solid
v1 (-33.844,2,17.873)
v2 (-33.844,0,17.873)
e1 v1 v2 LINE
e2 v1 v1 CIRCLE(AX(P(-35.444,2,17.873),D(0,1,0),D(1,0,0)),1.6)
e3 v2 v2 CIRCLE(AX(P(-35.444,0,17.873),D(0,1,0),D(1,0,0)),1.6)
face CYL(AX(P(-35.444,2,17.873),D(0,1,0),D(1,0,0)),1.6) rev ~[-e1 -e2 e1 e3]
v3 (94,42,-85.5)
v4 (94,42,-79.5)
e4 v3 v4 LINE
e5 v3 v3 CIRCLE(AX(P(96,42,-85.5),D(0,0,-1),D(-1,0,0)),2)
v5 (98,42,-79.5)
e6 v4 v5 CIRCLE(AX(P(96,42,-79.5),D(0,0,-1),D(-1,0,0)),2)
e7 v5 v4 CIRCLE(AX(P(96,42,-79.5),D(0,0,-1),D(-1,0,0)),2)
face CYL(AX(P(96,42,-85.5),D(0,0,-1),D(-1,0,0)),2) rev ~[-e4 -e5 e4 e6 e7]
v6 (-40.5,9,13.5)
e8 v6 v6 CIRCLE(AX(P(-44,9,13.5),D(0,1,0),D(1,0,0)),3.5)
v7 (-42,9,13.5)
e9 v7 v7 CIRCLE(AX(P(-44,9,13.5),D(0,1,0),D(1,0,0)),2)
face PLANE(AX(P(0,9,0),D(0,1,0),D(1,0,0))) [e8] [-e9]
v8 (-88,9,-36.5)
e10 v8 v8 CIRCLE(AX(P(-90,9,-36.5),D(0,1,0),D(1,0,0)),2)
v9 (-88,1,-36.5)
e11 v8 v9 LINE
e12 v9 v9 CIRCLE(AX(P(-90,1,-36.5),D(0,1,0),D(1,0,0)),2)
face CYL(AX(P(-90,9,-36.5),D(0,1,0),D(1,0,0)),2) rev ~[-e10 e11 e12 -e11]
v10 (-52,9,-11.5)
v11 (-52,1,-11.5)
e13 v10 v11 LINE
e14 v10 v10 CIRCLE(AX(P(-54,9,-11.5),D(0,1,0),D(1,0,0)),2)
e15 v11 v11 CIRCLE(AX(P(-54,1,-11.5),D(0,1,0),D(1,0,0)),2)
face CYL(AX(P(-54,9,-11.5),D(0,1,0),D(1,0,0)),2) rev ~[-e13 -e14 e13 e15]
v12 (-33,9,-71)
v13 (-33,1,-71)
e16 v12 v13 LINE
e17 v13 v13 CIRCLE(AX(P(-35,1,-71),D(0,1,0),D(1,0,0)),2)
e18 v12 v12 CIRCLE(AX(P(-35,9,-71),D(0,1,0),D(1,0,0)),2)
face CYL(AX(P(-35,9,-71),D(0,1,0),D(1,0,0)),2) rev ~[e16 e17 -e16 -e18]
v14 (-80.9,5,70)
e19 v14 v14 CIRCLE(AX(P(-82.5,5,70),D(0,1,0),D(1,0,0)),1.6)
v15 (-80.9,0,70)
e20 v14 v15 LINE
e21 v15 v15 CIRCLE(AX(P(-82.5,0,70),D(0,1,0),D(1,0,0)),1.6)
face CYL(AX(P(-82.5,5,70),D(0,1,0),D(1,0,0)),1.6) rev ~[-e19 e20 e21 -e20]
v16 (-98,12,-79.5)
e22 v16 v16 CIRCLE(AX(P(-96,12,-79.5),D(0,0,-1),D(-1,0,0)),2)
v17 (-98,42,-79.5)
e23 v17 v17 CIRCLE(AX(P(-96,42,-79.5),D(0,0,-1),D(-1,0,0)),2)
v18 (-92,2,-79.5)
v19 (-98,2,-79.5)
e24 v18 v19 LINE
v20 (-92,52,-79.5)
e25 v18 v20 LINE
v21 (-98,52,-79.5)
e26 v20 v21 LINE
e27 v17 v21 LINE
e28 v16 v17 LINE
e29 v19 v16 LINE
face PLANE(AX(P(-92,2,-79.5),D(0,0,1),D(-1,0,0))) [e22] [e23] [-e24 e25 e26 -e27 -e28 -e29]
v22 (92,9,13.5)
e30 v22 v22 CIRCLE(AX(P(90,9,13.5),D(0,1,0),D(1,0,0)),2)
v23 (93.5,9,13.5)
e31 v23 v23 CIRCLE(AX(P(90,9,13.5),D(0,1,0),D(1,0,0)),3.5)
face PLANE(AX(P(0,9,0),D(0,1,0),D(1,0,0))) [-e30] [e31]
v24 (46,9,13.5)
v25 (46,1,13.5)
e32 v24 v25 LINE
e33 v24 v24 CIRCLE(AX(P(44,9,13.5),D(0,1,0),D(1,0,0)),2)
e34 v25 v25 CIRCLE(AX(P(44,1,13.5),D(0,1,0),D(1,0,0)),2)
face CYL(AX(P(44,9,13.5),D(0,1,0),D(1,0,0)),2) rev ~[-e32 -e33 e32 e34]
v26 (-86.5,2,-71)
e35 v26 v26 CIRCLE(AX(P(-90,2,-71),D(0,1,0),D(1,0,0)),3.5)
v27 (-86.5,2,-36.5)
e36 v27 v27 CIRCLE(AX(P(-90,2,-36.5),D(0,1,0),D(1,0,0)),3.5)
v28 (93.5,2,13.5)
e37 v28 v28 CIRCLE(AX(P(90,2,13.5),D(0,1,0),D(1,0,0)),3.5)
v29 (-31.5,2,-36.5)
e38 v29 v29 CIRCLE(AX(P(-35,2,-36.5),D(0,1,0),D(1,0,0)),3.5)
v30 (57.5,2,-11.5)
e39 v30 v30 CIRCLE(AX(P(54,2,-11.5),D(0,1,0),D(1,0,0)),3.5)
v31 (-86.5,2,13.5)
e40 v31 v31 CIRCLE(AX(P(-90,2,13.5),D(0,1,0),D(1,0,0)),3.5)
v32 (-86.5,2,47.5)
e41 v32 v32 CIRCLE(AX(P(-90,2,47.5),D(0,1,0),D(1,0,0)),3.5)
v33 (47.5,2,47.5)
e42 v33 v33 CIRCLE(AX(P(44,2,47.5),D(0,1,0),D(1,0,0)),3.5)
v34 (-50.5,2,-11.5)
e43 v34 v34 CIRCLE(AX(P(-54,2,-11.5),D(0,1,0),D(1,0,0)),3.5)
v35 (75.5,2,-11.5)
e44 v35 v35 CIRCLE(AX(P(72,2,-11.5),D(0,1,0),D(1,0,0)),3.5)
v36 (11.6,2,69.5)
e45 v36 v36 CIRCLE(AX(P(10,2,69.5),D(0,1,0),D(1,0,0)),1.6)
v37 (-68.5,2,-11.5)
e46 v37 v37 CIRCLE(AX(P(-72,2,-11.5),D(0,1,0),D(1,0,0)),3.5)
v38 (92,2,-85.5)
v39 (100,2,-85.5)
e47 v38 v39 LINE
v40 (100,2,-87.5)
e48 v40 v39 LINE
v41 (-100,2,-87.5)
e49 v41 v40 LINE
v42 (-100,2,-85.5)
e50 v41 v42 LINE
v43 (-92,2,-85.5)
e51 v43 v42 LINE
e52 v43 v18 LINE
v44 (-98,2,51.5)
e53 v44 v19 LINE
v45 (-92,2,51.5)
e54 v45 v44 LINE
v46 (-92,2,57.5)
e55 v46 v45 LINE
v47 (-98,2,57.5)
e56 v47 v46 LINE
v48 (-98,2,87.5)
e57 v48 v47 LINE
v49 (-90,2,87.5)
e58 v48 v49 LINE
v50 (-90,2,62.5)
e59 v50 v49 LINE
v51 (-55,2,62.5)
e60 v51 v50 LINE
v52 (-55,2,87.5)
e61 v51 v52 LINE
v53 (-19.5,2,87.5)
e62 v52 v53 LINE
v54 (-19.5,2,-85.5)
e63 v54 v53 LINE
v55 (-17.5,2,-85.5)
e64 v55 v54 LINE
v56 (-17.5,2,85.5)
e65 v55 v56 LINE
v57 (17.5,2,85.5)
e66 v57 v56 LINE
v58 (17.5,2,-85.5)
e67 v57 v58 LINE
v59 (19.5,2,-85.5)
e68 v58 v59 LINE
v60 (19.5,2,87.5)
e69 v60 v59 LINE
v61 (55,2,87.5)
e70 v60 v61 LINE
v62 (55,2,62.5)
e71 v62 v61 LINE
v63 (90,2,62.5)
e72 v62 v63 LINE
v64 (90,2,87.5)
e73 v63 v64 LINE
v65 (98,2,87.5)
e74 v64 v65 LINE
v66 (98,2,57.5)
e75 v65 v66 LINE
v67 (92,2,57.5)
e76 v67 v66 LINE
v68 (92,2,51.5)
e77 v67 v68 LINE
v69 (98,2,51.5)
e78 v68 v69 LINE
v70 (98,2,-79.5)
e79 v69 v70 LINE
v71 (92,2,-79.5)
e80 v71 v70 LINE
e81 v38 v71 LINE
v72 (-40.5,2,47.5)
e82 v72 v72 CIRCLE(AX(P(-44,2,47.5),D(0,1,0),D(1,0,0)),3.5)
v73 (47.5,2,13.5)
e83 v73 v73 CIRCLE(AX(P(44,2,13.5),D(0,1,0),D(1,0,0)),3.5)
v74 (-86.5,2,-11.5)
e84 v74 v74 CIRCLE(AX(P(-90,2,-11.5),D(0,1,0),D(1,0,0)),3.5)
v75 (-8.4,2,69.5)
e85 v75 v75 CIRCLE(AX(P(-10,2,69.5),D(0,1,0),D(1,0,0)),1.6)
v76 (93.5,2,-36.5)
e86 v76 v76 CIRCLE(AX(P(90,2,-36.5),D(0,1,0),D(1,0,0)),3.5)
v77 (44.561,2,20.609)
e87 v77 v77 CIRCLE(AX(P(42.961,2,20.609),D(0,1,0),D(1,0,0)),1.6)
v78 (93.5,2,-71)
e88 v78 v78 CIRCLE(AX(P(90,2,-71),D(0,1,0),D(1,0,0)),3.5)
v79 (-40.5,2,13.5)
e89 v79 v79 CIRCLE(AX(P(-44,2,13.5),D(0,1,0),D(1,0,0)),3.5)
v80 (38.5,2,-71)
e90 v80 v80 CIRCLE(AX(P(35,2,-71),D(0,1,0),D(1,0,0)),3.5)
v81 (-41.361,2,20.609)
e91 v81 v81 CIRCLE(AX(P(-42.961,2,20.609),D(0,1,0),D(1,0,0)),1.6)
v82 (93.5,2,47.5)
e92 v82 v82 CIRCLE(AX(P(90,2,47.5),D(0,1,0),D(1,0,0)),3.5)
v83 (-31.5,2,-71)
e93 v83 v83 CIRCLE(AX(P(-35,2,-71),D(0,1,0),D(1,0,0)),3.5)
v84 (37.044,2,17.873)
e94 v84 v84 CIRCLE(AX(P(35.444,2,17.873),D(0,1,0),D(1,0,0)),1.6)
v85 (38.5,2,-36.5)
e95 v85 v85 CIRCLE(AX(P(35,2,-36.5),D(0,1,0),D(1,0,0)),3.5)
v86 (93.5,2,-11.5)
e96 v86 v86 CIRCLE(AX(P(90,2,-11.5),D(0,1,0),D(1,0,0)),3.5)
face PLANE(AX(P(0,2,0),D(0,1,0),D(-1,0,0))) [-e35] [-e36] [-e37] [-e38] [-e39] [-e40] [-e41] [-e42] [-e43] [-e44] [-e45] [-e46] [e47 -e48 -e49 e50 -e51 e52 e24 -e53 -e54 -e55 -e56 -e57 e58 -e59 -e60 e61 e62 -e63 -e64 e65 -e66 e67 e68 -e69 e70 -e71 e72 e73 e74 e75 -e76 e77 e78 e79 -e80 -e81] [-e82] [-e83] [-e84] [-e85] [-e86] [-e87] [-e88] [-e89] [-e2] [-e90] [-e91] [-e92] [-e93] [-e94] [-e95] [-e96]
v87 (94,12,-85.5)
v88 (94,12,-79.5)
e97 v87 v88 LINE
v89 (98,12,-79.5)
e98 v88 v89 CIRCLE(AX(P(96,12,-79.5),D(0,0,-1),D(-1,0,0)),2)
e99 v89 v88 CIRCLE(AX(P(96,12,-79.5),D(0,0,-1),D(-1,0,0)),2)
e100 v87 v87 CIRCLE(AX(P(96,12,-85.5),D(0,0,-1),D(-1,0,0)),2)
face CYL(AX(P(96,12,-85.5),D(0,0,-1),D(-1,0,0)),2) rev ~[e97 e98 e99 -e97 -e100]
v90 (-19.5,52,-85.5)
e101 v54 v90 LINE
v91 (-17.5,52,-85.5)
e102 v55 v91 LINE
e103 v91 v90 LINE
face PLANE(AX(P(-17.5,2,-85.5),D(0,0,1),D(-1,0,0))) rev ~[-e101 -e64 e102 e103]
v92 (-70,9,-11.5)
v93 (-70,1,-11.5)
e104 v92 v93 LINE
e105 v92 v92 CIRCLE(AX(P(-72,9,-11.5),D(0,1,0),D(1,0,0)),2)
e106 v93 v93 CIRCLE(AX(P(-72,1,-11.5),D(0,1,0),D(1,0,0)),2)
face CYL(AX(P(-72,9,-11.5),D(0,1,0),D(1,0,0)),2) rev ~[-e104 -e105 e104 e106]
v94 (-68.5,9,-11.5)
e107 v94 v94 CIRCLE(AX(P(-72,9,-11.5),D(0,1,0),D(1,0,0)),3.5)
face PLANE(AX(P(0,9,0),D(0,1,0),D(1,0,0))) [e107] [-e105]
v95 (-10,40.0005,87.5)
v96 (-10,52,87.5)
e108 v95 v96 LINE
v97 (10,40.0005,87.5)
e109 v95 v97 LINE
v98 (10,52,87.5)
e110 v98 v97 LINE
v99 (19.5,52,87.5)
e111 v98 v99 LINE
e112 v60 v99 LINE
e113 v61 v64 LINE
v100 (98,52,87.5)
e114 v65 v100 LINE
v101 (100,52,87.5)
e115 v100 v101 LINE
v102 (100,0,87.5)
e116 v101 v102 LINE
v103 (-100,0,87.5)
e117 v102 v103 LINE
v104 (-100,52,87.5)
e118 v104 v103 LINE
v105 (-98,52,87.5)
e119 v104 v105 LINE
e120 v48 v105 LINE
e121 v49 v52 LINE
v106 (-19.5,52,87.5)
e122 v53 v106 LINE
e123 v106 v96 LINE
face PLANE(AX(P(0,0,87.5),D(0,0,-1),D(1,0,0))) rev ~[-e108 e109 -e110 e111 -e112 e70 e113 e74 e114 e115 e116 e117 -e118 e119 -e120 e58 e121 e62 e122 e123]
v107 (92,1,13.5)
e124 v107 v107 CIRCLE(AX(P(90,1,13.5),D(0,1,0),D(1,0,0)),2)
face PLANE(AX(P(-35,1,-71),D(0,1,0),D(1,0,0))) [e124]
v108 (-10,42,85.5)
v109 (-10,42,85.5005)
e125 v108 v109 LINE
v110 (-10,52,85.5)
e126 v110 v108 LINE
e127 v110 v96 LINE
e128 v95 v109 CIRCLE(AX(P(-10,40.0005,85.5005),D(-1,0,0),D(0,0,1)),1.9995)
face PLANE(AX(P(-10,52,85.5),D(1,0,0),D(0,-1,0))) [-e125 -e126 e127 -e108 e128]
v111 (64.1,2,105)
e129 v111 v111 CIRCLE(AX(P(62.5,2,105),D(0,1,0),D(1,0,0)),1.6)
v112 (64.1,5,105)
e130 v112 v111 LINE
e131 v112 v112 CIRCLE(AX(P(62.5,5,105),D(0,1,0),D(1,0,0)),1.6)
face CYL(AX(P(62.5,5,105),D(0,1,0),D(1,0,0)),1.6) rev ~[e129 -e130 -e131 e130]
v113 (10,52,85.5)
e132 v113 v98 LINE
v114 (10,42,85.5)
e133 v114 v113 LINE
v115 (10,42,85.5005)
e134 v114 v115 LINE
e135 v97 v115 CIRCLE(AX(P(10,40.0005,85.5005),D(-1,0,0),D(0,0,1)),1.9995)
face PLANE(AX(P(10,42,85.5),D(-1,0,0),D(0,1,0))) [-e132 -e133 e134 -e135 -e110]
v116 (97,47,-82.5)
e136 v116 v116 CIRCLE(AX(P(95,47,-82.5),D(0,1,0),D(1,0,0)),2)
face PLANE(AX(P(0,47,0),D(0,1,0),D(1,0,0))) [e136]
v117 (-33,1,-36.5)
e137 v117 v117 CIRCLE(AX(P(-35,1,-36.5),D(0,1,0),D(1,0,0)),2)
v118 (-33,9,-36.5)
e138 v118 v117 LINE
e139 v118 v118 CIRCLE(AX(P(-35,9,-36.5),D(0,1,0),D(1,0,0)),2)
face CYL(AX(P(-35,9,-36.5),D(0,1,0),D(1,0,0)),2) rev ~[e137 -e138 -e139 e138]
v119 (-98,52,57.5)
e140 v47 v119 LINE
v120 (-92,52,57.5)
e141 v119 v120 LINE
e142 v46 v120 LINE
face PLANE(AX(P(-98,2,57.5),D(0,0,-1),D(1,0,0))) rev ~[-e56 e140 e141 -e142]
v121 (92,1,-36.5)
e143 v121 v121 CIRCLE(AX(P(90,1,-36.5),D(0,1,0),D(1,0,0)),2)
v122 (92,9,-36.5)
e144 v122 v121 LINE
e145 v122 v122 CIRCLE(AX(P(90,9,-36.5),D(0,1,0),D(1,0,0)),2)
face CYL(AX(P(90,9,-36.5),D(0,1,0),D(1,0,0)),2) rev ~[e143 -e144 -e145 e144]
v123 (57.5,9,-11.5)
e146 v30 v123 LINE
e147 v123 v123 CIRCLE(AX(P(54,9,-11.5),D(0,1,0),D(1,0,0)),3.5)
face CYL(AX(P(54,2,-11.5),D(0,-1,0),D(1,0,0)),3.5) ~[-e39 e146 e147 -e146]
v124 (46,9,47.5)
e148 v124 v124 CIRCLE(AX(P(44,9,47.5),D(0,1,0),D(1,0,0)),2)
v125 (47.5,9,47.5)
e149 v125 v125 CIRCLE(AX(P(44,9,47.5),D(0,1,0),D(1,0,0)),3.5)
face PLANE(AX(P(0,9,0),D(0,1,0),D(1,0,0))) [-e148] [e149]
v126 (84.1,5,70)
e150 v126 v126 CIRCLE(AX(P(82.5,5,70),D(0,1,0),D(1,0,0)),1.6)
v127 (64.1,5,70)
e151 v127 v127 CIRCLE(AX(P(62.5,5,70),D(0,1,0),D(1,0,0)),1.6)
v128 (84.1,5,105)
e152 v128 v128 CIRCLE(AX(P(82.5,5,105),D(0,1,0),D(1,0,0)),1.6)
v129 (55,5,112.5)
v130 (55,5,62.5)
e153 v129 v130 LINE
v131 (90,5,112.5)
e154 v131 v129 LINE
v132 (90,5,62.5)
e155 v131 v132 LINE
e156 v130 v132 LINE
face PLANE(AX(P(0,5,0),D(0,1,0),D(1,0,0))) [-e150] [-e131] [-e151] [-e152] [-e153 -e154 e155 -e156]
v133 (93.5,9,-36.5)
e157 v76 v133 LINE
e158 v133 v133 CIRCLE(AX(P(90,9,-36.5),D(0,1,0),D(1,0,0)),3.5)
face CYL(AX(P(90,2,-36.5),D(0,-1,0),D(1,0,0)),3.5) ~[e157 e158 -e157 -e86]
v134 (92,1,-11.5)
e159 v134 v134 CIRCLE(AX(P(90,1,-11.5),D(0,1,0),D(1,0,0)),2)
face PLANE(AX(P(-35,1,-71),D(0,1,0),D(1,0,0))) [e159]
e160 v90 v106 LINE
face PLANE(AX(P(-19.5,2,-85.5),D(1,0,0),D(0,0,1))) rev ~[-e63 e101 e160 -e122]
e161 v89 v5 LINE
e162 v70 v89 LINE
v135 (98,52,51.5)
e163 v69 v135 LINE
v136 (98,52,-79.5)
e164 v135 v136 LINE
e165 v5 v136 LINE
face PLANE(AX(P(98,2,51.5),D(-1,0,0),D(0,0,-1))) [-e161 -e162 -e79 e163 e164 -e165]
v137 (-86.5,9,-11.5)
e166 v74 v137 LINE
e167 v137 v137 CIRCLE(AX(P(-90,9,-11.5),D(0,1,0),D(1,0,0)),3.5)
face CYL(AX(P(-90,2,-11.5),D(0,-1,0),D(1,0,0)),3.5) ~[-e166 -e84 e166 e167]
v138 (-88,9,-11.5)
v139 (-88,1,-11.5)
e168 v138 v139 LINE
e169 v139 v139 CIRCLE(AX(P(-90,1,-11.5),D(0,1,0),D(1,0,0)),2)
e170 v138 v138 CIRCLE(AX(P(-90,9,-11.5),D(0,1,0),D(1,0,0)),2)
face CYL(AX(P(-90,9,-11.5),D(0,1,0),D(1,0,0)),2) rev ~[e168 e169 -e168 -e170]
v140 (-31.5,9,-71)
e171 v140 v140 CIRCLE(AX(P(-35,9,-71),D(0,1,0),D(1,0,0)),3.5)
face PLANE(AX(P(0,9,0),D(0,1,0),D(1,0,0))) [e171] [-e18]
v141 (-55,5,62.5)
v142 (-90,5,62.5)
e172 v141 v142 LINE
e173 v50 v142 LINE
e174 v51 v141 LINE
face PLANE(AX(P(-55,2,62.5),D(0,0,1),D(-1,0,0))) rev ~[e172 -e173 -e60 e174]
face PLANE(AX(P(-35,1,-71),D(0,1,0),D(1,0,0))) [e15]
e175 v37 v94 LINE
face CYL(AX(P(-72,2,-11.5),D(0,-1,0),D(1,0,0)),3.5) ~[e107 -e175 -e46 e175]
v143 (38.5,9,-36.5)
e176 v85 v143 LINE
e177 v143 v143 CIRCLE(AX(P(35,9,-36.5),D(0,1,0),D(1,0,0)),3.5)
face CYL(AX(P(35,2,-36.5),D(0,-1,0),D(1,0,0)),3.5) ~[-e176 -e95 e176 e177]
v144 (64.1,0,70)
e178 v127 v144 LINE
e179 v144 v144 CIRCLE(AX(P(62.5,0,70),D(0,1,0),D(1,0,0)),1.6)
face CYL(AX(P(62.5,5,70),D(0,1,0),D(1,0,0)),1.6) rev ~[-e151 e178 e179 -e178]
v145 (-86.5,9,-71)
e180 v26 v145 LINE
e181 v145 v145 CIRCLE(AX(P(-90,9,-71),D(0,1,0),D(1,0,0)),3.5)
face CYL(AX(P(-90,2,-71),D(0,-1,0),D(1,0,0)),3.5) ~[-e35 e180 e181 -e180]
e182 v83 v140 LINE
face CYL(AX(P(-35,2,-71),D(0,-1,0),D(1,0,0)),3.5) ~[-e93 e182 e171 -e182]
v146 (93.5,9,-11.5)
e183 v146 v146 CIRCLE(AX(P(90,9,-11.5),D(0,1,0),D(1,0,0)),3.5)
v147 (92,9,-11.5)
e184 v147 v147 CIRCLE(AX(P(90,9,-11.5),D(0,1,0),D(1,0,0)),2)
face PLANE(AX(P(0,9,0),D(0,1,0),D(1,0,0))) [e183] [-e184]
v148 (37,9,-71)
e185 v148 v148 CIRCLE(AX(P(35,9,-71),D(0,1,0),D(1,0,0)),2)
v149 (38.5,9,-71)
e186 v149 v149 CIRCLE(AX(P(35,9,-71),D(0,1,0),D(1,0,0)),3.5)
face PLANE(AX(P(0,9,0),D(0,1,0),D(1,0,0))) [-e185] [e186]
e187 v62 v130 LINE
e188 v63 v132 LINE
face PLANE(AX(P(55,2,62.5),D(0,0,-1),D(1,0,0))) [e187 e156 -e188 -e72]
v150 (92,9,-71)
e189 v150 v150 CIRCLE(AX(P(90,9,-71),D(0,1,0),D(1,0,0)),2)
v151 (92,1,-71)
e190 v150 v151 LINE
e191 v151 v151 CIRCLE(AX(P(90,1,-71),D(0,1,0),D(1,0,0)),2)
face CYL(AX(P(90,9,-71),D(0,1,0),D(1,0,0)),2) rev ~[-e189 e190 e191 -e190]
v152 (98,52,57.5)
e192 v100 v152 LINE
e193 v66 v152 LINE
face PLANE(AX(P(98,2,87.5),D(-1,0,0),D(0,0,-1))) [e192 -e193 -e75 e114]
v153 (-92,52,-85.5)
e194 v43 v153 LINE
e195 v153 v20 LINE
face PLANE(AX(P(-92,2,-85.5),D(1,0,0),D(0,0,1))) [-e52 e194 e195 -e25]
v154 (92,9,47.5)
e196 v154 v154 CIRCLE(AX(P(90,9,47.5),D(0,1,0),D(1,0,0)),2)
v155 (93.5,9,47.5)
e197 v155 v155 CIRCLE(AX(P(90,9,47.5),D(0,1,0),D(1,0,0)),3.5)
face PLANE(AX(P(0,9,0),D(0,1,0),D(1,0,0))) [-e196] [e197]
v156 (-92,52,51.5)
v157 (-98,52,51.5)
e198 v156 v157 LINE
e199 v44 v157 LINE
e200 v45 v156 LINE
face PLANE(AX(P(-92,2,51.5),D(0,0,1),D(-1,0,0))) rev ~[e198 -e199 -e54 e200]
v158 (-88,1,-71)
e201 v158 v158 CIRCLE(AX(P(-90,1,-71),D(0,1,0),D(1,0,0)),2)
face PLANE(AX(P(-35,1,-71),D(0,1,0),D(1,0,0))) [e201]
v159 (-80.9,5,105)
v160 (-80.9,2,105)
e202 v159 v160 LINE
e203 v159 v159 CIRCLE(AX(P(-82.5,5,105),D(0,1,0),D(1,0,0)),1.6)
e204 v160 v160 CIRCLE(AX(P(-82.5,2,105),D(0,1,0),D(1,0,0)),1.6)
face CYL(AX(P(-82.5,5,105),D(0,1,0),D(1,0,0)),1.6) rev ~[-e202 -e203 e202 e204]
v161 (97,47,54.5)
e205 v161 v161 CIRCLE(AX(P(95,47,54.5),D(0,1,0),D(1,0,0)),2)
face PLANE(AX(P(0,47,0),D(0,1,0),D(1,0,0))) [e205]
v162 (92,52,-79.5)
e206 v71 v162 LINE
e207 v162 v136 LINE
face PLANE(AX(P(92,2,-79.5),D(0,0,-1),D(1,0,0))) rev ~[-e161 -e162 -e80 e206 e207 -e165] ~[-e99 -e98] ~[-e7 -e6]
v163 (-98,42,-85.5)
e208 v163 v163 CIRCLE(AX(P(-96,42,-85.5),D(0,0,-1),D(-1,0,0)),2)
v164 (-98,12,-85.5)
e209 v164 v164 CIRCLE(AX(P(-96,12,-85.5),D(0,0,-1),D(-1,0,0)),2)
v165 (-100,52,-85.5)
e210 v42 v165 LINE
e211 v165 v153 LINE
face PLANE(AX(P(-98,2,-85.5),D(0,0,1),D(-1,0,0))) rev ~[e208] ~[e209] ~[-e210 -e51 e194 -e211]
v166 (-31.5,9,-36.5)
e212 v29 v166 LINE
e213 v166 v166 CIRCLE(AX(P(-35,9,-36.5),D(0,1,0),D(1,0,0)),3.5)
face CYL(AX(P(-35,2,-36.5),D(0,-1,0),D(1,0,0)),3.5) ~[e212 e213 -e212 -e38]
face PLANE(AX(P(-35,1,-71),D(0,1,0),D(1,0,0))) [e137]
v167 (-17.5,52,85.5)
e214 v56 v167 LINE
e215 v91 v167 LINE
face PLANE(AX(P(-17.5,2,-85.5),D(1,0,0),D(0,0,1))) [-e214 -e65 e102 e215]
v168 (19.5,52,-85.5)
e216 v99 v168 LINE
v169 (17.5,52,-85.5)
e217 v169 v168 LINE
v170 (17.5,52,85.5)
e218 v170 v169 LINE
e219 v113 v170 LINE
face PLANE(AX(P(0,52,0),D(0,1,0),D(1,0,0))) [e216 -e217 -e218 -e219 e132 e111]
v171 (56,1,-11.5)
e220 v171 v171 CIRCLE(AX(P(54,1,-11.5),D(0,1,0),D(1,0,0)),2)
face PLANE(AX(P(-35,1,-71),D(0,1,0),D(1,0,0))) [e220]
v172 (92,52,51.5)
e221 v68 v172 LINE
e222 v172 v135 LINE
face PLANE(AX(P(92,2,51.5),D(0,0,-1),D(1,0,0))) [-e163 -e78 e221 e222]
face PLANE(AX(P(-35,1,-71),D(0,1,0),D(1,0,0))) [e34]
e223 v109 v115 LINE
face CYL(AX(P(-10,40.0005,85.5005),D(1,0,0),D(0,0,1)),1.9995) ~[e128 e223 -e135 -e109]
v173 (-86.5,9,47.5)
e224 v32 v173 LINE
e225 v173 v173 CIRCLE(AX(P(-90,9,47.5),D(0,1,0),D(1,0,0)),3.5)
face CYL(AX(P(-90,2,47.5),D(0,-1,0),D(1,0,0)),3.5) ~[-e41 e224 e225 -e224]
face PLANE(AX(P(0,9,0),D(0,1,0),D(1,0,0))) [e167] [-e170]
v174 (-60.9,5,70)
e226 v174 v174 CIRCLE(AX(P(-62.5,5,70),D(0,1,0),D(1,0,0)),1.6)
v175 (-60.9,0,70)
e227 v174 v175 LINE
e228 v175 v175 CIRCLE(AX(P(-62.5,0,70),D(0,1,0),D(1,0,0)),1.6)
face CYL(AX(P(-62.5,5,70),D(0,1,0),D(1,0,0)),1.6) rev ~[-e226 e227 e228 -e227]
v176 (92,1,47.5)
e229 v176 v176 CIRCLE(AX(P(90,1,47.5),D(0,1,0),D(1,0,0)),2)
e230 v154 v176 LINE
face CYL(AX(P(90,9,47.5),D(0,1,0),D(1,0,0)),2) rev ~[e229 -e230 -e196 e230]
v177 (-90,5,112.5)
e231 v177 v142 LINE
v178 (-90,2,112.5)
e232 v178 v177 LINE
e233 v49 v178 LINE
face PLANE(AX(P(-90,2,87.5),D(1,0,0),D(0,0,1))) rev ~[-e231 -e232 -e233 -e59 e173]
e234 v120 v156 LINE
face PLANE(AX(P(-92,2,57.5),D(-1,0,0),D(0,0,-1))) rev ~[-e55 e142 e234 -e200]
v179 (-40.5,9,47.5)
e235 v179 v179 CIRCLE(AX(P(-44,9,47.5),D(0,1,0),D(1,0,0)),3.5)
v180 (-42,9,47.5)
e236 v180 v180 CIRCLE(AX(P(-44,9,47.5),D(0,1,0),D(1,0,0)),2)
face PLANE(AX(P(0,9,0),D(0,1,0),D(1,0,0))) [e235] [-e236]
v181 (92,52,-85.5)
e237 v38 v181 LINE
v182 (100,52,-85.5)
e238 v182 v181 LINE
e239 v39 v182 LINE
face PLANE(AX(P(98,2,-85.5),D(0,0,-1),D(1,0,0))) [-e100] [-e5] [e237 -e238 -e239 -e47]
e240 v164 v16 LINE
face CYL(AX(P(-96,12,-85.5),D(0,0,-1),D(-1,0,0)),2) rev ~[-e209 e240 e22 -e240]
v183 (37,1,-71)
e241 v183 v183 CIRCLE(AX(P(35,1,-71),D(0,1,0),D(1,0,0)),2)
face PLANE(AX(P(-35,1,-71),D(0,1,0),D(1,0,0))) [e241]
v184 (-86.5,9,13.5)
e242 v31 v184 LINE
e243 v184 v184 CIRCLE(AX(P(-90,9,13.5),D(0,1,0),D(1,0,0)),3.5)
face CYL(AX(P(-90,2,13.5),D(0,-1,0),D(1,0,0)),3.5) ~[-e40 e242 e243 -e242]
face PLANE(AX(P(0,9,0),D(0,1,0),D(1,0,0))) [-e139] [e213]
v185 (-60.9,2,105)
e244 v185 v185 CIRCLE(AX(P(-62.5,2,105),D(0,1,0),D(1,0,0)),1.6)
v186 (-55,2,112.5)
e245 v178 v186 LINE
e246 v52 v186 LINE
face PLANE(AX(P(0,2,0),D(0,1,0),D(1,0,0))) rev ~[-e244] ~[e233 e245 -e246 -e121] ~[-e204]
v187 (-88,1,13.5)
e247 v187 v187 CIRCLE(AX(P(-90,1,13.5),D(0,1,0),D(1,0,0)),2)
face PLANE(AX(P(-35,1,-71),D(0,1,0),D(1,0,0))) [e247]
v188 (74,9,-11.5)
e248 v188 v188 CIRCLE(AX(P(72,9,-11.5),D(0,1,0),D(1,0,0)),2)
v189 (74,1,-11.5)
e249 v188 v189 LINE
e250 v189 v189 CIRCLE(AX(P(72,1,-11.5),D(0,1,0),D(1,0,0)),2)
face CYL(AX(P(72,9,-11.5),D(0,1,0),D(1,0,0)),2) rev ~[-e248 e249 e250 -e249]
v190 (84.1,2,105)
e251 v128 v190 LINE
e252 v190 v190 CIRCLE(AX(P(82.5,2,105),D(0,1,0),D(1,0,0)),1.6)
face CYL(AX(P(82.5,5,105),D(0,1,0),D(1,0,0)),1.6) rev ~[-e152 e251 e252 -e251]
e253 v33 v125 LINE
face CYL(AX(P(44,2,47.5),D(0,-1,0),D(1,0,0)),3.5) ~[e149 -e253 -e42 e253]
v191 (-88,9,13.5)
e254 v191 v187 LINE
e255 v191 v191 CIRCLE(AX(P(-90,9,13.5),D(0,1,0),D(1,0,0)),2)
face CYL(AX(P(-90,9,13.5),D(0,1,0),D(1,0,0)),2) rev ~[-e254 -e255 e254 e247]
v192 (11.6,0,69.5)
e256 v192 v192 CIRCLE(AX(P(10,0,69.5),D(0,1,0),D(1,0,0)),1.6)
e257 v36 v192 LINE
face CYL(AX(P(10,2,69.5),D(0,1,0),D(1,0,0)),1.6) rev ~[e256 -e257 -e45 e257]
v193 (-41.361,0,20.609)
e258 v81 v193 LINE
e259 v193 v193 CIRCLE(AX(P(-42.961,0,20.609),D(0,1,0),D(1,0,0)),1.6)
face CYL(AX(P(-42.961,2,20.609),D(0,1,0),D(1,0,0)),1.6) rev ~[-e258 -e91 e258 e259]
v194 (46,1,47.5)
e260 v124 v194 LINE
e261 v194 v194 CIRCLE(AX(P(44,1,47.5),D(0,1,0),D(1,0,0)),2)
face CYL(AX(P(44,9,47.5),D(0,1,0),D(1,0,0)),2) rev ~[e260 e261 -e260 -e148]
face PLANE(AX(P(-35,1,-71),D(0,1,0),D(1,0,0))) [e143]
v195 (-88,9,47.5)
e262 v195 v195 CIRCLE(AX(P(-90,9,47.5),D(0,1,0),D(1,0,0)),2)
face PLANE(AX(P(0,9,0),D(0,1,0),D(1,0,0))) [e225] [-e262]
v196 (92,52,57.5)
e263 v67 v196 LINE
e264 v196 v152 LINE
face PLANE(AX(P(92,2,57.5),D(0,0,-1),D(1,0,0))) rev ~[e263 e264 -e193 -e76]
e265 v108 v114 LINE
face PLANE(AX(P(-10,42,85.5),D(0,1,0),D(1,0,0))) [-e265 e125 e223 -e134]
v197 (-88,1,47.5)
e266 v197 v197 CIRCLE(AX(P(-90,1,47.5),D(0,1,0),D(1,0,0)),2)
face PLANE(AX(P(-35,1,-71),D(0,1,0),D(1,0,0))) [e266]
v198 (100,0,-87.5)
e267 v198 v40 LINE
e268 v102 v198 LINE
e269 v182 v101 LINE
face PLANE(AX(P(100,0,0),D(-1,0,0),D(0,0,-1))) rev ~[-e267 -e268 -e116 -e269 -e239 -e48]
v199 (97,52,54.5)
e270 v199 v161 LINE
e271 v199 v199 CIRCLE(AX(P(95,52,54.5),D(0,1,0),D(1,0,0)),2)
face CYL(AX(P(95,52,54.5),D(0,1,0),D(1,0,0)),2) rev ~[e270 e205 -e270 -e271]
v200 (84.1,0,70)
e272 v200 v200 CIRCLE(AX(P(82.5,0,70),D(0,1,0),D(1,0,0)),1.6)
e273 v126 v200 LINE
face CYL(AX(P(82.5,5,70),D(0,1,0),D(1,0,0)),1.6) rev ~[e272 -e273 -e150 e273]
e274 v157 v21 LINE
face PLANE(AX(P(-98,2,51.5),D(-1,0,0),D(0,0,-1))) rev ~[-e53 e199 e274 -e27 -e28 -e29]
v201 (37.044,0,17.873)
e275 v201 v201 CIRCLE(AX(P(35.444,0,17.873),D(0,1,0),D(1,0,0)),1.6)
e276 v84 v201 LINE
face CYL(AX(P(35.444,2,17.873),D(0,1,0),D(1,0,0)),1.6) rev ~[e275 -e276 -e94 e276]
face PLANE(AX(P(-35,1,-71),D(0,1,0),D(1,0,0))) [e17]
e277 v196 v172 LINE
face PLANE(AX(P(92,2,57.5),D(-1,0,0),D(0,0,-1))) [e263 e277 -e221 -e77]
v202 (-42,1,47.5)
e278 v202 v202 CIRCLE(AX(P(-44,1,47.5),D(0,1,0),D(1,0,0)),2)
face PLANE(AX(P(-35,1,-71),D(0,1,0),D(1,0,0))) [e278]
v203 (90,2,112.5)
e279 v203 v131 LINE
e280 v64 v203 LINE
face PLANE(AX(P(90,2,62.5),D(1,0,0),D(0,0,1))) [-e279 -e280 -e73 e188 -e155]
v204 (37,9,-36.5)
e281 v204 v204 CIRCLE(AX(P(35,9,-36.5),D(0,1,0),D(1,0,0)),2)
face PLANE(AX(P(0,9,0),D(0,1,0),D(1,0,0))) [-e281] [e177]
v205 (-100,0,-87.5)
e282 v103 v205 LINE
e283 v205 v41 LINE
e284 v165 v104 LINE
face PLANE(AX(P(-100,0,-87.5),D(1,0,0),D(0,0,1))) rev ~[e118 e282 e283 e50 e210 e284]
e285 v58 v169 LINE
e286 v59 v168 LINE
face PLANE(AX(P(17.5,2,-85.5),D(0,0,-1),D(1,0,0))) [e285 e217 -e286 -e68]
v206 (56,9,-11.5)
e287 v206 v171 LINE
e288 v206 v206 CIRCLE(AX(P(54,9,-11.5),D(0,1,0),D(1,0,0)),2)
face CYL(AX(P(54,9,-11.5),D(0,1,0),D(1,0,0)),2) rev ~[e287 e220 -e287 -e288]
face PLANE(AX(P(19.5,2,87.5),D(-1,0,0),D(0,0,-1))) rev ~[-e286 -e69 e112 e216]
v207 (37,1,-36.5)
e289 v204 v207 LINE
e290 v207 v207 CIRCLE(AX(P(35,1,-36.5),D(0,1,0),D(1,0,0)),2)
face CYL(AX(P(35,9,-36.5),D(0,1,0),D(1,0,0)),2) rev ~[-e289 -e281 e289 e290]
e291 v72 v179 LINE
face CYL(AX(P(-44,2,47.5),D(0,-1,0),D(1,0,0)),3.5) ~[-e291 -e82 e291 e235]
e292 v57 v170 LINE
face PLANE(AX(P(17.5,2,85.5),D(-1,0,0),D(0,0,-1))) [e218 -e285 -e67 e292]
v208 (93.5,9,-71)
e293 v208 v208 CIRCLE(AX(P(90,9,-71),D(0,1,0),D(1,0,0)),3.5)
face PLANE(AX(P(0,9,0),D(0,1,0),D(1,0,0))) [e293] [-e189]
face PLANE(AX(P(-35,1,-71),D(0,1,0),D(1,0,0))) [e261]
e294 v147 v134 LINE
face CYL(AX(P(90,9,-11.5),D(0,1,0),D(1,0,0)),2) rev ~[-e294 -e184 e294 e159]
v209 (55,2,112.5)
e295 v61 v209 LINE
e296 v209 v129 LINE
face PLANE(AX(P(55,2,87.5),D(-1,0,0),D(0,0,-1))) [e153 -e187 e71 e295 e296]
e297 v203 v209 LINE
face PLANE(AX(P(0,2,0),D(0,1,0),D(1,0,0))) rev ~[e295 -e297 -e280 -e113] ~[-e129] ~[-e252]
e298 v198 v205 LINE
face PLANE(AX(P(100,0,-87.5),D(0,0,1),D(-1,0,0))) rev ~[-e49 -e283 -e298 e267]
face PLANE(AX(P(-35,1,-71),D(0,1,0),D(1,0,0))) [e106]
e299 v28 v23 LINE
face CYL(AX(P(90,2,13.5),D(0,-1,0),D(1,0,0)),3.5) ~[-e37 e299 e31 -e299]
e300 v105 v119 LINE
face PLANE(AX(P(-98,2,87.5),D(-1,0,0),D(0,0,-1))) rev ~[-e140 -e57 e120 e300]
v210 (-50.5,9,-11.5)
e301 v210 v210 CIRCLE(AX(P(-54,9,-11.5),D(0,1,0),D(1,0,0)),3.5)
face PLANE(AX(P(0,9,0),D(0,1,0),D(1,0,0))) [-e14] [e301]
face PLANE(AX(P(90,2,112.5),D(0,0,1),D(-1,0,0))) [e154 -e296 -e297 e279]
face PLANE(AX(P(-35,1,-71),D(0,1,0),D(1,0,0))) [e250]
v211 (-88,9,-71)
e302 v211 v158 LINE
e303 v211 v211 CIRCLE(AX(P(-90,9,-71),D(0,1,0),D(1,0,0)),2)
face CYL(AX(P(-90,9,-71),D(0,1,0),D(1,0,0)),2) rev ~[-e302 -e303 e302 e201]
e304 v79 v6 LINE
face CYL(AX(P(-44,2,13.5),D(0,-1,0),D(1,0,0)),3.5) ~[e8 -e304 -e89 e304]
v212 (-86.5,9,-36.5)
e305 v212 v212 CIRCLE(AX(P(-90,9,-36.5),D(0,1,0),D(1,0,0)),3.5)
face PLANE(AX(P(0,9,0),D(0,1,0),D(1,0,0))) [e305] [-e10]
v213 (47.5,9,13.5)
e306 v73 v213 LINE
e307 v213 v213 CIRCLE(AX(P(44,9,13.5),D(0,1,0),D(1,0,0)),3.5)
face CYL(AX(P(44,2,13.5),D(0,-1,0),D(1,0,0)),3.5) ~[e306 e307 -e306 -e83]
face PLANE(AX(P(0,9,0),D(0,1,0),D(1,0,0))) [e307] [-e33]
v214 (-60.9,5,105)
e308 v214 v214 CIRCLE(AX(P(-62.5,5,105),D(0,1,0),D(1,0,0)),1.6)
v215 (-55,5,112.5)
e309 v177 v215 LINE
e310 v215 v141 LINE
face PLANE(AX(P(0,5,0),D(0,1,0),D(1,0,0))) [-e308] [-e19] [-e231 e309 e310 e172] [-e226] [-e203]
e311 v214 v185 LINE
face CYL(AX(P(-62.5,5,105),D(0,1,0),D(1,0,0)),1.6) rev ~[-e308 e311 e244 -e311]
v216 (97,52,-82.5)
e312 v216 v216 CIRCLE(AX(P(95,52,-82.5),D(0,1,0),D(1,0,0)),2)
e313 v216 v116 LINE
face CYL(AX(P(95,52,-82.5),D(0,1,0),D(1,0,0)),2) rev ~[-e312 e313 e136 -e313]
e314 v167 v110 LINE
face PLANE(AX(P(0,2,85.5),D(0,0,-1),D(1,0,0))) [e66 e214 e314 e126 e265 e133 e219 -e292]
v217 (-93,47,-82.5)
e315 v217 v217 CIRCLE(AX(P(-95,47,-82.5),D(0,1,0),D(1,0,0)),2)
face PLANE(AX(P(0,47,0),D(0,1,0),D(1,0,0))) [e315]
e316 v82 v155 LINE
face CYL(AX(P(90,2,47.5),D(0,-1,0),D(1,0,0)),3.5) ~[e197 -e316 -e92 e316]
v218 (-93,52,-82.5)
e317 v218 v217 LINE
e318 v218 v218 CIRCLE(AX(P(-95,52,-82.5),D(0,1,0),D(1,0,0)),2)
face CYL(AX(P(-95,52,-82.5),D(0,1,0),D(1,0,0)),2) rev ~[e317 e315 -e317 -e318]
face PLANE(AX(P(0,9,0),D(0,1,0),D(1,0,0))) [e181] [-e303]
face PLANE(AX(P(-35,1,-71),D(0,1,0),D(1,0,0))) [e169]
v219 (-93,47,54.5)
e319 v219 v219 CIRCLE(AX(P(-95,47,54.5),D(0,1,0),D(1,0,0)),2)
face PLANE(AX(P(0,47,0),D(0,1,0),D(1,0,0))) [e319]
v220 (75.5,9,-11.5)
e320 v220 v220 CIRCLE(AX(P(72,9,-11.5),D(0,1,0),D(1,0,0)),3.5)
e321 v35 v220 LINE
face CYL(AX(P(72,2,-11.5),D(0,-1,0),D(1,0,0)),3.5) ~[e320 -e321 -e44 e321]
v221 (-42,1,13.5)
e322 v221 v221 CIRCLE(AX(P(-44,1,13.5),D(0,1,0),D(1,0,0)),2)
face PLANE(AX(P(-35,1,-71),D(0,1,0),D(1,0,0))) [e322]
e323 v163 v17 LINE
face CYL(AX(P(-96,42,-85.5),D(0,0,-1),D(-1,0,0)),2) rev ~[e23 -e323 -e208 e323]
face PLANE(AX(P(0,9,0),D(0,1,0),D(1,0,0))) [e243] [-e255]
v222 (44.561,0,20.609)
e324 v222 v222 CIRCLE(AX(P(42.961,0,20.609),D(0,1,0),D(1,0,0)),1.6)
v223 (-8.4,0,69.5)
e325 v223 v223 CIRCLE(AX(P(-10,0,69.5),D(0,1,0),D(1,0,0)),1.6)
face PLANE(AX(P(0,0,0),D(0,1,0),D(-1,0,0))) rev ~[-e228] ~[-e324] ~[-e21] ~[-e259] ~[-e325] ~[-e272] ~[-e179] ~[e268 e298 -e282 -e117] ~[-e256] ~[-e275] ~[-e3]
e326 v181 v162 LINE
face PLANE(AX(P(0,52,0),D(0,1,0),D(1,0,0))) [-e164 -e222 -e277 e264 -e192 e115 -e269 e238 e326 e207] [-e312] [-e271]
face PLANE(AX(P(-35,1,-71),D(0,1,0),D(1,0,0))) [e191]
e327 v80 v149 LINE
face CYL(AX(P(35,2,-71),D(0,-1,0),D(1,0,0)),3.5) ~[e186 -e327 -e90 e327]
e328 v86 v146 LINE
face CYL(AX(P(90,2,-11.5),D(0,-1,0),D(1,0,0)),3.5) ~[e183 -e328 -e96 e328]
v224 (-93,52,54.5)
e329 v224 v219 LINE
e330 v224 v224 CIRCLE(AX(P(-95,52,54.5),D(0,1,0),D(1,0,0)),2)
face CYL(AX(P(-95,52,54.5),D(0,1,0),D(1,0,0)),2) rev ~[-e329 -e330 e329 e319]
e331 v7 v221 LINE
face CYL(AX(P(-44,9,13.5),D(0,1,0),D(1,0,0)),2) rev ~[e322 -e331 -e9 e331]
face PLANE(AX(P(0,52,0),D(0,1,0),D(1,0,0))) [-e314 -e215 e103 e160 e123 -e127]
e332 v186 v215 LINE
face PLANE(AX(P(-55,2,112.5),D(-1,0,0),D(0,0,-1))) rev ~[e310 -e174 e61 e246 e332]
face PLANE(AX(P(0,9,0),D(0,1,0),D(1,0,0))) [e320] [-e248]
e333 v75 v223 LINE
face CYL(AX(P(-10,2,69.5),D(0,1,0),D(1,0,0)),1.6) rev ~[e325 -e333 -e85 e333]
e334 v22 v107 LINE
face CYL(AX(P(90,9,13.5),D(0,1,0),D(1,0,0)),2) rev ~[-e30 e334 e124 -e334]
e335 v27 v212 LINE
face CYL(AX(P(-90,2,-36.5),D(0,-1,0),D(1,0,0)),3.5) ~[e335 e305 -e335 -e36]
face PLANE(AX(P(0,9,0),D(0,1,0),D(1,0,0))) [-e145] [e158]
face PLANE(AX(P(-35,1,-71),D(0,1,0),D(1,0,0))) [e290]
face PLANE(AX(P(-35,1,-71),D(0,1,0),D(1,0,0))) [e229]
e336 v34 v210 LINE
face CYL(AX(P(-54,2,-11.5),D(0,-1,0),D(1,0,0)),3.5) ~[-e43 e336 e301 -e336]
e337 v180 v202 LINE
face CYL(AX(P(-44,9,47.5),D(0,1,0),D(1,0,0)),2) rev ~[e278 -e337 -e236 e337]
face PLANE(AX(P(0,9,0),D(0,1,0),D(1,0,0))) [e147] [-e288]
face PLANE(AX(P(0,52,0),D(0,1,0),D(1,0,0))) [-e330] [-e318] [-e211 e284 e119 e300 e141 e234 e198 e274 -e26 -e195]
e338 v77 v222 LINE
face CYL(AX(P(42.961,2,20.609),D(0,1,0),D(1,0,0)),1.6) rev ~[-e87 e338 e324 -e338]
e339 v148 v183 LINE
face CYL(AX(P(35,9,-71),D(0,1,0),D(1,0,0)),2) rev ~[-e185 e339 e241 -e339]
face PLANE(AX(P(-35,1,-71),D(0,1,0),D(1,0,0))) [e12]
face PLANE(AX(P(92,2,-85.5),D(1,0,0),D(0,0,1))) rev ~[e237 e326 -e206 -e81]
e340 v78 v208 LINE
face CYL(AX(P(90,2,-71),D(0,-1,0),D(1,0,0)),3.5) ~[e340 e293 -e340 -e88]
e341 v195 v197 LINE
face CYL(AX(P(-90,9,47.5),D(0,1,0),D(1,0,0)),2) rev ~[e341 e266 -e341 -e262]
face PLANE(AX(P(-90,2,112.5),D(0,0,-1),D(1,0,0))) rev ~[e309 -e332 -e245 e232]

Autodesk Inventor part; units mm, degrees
ref_plane "YZ Plane" through (0, 0, 0) normal (1, 0, 0) x (0, 1, 0)
ref_plane "XZ Plane" through (0, 0, 0) normal (0, 1, 0) x (-1, 0, 0)
ref_plane "XY Plane" through (0, 0, 0) normal (0, 0, 1) x (1, 0, 0)
sketch "Skizze1" plane through (0, 0, 0) normal (0, 1, 0) x (-1, 0, 0)
  line L0 (-100, -87.5) -> (100, -87.5)
  line L1 (100, -87.5) -> (100, 87.5)
  line L2 (100, 87.5) -> (-100, 87.5)
  line L3 (-100, 87.5) -> (-100, -87.5)
  line L4 (0, -122.5) -> (0, 122.5) projected
  line L5 (-140, 0) -> (140, 0) projected
  point P0 (0, 0)
  dimension "d0" = 200
  dimension "d1" = 175
extrude "Extrusion1" add sketch "Skizze1" along normal blind 2
sketch "Skizze2" plane through (0, 2, 0) normal (0, 1, 0) x (1, 0, 0)
  line L0 (-90, -112.5) -> (-55, -112.5)
  line L1 (-55, -112.5) -> (-55, -62.5)
  line L2 (-55, -62.5) -> (-90, -62.5)
  line L3 (-90, -62.5) -> (-90, -112.5)
  line L4 (-100, -87.5) -> (100, -87.5) projected
  line L5 (-100, 87.5) -> (-100, -87.5) projected
  line L6 (0, 127.5) -> (0, -152.5) projected
  line L7 (90, -112.5) -> (55, -112.5)
  line L8 (55, -112.5) -> (55, -62.5)
  line L9 (55, -62.5) -> (90, -62.5)
  line L10 (90, -62.5) -> (90, -112.5)
  point P0 (0, 0)
  dimension "d4" = 35
  dimension "d5" = 50
  dimension "d6" = 10
extrude "Extrusion2" add sketch "Skizze2" along normal blind 3
sketch "Skizze3" plane through (0, 5, 0) normal (0, 1, 0) x (1, 0, 0)
  circle A0 centre (-82.5, -105) radius 1.6
  circle A1 centre (-62.5, -105) radius 1.6
  circle A2 centre (-82.5, -70) radius 1.6
  circle A3 centre (-62.5, -70) radius 1.6
  line L0 (-55, -112.5) -> (-55, -62.5) projected
  line L1 (-90, -62.5) -> (-90, -112.5) projected
  line L2 (-90, -112.5) -> (-55, -112.5) projected
  line L3 (-55, -62.5) -> (-90, -62.5) projected
  line L4 (0, 127.5) -> (0, -152.5) projected
  circle A4 centre (82.5, -105) radius 1.6
  circle A5 centre (62.5, -105) radius 1.6
  circle A6 centre (82.5, -70) radius 1.6
  circle A7 centre (62.5, -70) radius 1.6
  point P0 (0, 0)
  dimension "d9" = 3.2
  dimension "d10" = 3.2
  dimension "d11" = 3.2
  dimension "d12" = 3.2
  dimension "d13" = 7.5
  dimension "d14" = 7.5
  dimension "d15" = 7.5
  dimension "d16" = 7.5
  dimension "d17" = 7.5
  dimension "d18" = 7.5
  dimension "d19" = 7.5
  dimension "d20" = 7.5
extrude "Extrusion3" cut sketch "Skizze3" against normal up to surface (5 mm away) contours A0 | A1 | A2 | A3 | A4 | A5 | A6 | A7
sketch "Skizze4" plane through (0, 2, 0) normal (0, 1, 0) x (1, 0, 0)
  line L0 (100, 87.5) -> (-100, 87.5) projected
  line L1 (0, 122.5) -> (0, -122.5) projected
  line L2 (-55, -87.5) -> (55, -87.5) projected
  line L3 (-100, 87.5) -> (-100, -87.5) projected
  line L4 (-17.5, 85.5) -> (-17.5, 85.5)
  line L5 (90, -87.5) -> (100, -87.5) projected
  line L6 (100, -87.5) -> (98, -87.5)
  line L7 (98, -87.5) -> (98, 85.5)
  line L8 (98, 85.5) -> (100, 85.5)
  line L9 (100, 85.5) -> (100, -87.5)
  line L10 (-100, -87.5) -> (-90, -87.5) projected
  line L11 (-100, -87.5) -> (-98, -87.5)
  line L12 (-98, -87.5) -> (-98, 85.5)
  line L13 (-98, 85.5) -> (-100, 85.5)
  line L14 (-100, 85.5) -> (-100, -87.5)
  line L15 (98, 85.5) -> (92, 85.5)
  line L16 (92, 85.5) -> (92, 79.5)
  line L17 (92, 79.5) -> (98, 79.5)
  line L18 (98, 79.5) -> (98, 85.5)
  line L19 (-98, 85.5) -> (-92, 85.5)
  line L20 (-92, 85.5) -> (-92, 79.5)
  line L21 (-92, 79.5) -> (-98, 79.5)
  line L22 (-98, 79.5) -> (-98, 85.5)
  line L23 (92, -57.5) -> (92, -51.5)
  line L24 (92, -51.5) -> (98, -51.5)
  line L25 (98, -51.5) -> (98, -87.5)
  line L26 (-92, -57.5) -> (-92, -51.5)
  line L27 (-92, -51.5) -> (-98, -51.5)
  line L28 (-98, -51.5) -> (-98, -87.5)
  line L29 (92, -57.5) -> (98, -57.5)
  line L30 (-98, -57.5) -> (-92, -57.5)
  line L31 (-19.5, -87.5) -> (19.5, -87.5)
  line L32 (19.5, -87.5) -> (19.5, 85.5)
  line L33 (20.25, 87.5) -> (-18.75, 87.5)
  line L34 (-19.5, 85.5) -> (-19.5, -87.5)
  line L35 (-17.5, -85.5) -> (17.5, -85.5)
  line L36 (17.5, -85.5) -> (17.5, 85.5)
  line L37 (-17.5, 85.5) -> (-17.5, -85.5)
  line L38 (-17.5, 85.5) -> (-19.5, 85.5)
  line L39 (17.5, 85.5) -> (19.5, 85.5)
  point P0 (-100, 85.5)
  point P1 (-98, 79.5)
  point P2 (98, 79.5)
  point P3 (-98, -51.5)
  point P4 (-92, -62.5)
  point P5 (98, -51.5)
  point P6 (92, -62.5)
  point P7 (98, -51.5)
  point P8 (-98, -51.5)
  point P9 (19.5, -87.5)
  dimension "d38" = 2
  dimension "d39" = 2
  dimension "d41" = 2
  dimension "d42" = 6
  dimension "d43" = 6
  dimension "d44" = 6
  dimension "d45" = 6
  dimension "d66" = 6
  dimension "d68" = 6
  dimension "d121" = 6
  dimension "d122" = 30
  dimension "d123" = 6
  dimension "d124" = 30
  dimension "d125" = 90
  dimension "d127" = 8
  dimension "d128" = 8
  dimension "d129" = 98
  dimension "d130" = 114
  dimension "d132" = 150
  dimension "d134" = 150
  dimension "d149" = 150
  dimension "d151" = 8
  dimension "d152" = 98
  dimension "d153" = 114
  dimension "d154" = 98
  dimension "d155" = 150
  dimension "d157" = 2
  dimension "d158" = 100
  dimension "d172" = 2
  dimension "d173" = 2
  dimension "d174" = 17.5
  dimension "d175" = 17.5
  dimension "d176" = 2
  dimension "d177" = 2
extrude "Extrusion7" add sketch "Skizze4" along normal blind 50
sketch "Skizze7" plane through (100, 2, -85.5) normal (0, 0, -1) x (-1, 0, 0)
  circle A0 centre (4, 40) radius 2
  circle A1 centre (4, 10) radius 2
  line L0 (0, 0) -> (200, 0) projected
  line L1 (8, 0) -> (8, 50) projected
  line L2 (0, 50) -> (8, 50) projected
  circle A2 centre (196, 10) radius 2
  line L3 (192, 0) -> (192, 50) projected
  circle A3 centre (196, 40) radius 2
  line L4 (192, 50) -> (200, 50) projected
  point P0 (100, -2)
  dimension "d82" = 4
  dimension "d83" = 4
  dimension "d84" = 10
  dimension "d85" = 4
  dimension "d86" = 4
  dimension "d87" = 10
  dimension "d88" = 4
  dimension "d89" = 4
  dimension "d90" = 10
  dimension "d91" = 4
  dimension "d92" = 10
  dimension "d93" = 4
extrude "Extrusion8" cut sketch "Skizze7" against normal up to surface (6 mm away)
sketch "Skizze8" plane through (0, 52, 0) normal (0, 1, 0) x (1, 0, 0)
  circle A0 centre (95, 82.5) radius 2
  line L0 (100, 85.5) -> (92, 85.5) projected
  line L1 (92, 85.5) -> (92, 79.5) projected
  circle A1 centre (-95, 82.5) radius 2
  line L2 (-92, 85.5) -> (-100, 85.5) projected
  line L3 (-92, 79.5) -> (-92, 85.5) projected
  circle A2 centre (-95, -54.5) radius 2
  line L4 (-92, -51.5) -> (-98, -51.5) projected
  line L5 (-92, -57.5) -> (-92, -51.5) projected
  circle A3 centre (95, -54.5) radius 2
  line L6 (98, -51.5) -> (92, -51.5) projected
  line L7 (92, -51.5) -> (92, -57.5) projected
  point P0 (0, 0)
  point P1 (-92, -75)
  point P2 (92, -75)
  dimension "d96" = 4
  dimension "d97" = 3
  dimension "d98" = 3
  dimension "d99" = 4
  dimension "d100" = 3
  dimension "d101" = 3
  dimension "d102" = 4
  dimension "d103" = 3
  dimension "d104" = 3
  dimension "d105" = 4
  dimension "d106" = 3
  dimension "d107" = 3
extrude "Extrusion9" cut sketch "Skizze8" against normal blind 5
sketch "Skizze9" plane through (0, 2, 0) normal (0, 1, 0) x (1, 0, 0)
  circle A0 centre (-10, -69.5) radius 1.6
  line L0 (-55, -87.5) -> (-90, -87.5) projected
  line L1 (0, 122.5) -> (0, -122.5) projected
  circle A1 centre (10, -69.5) radius 1.6
  circle A2 centre (-42.961, -20.609) radius 1.6
  circle A3 centre (-35.444, -17.873) radius 1.6
  circle A4 centre (42.961, -20.609) radius 1.6
  circle A5 centre (35.444, -17.873) radius 1.6
  point P0 (0, 0)
  point P1 (0, -87.5)
  dimension "d110" = 3.2
  dimension "d111" = 18
  dimension "d112" = 10
  dimension "d115" = 3.2
  dimension "d116" = 3.2
  dimension "d117" = 66.891
  dimension "d118" = 69.627
  dimension "d119" = 42.961
  dimension "d120" = 35.444
extrude "Extrusion10" cut sketch "Skizze9" against normal up to surface (2 mm away)
sketch "Skizze10" plane through (17.5, 2, 85.5) normal (0, 0, -1) x (-1, 0, 0)
  line L0 (37, 50) -> (-2, 50) projected
  line L1 (7.5, 50) -> (27.5, 50)
  line L2 (27.5, 50) -> (27.5, 40)
  line L3 (27.5, 40) -> (7.5, 40)
  line L4 (7.5, 40) -> (7.5, 50)
  line L5 (0, 0) -> (0, 50) projected
  point P0 (17.5, -2)
  dimension "d178" = 20
  dimension "d179" = 10
  dimension "d180" = 7.5
extrude "Extrusion11" cut sketch "Skizze10" against normal up to surface (2 mm away)
fillet "Rundung1" radius 2 1 edges at (0, 42, 87.5)
sketch "Skizze11" plane through (0, 2, 0) normal (0, 1, 0) x (1, 0, 0)
  circle A0 centre (-90, -47.5) radius 3.5
  circle A1 centre (-44, -47.5) radius 3.5
  circle A2 centre (-90, -13.5) radius 3.5
  circle A3 centre (-44, -13.5) radius 3.5
  line L0 (-98, -51.5) -> (-98, 79.5) projected
  line L1 (-55, -62.5) -> (-90, -62.5) projected
  line L2 (0, 127.5) -> (0, -152.5) projected
  circle A4 centre (90, -47.5) radius 3.5
  circle A5 centre (44, -47.5) radius 3.5
  circle A6 centre (90, -13.5) radius 3.5
  circle A7 centre (44, -13.5) radius 3.5
  circle A8 centre (-90, 36.5) radius 3.5
  circle A9 centre (-90, 71) radius 3.5
  circle A10 centre (-35, 36.5) radius 3.5
  circle A11 centre (-35, 71) radius 3.5
  circle A12 centre (90, 36.5) radius 3.5
  circle A13 centre (90, 71) radius 3.5
  circle A14 centre (35, 36.5) radius 3.5
  circle A15 centre (35, 71) radius 3.5
  circle A16 centre (-90, 11.5) radius 3.5
  circle A17 centre (-72, 11.5) radius 3.5
  circle A18 centre (-54, 11.5) radius 3.5
  circle A19 centre (90, 11.5) radius 3.5
  circle A20 centre (72, 11.5) radius 3.5
  circle A21 centre (54, 11.5) radius 3.5
  point P0 (0, 0)
  dimension "d184" = 7
  dimension "d185" = 7
  dimension "d186" = 7
  dimension "d187" = 7
  dimension "d188" = 8
  dimension "d189" = 15
  dimension "d190" = 15
  dimension "d191" = 46
  dimension "d192" = 8
  dimension "d193" = 46
  dimension "d194" = 34
  dimension "d195" = 34
  dimension "d196" = 7
  dimension "d197" = 7
  dimension "d198" = 7
  dimension "d199" = 7
  dimension "d200" = 8
  dimension "d201" = 8
  dimension "d202" = 50
  dimension "d203" = 34.5
  dimension "d204" = 55
  dimension "d205" = 50
  dimension "d206" = 55
  dimension "d207" = 34.5
  dimension "d241" = 7
  dimension "d242" = 7
  dimension "d243" = 7
  dimension "d244" = 25
  dimension "d245" = 8
  dimension "d246" = 25
  dimension "d247" = 25
  dimension "d248" = 18
  dimension "d249" = 18
extrude "Extrusion12" add sketch "Skizze11" along normal blind 7
sketch "Skizze12" plane through (-35, 9, -71) normal (0, 1, 0) x (1, 0, 0)
  circle A0 centre (-55, -118.5) radius 2
  circle A1 centre (-55, -118.5) radius 3.5 projected
  circle A2 centre (-55, -118.5) radius 3.5
  circle A3 centre (-55, -84.5) radius 3.5 projected
  circle A4 centre (-55, -84.5) radius 2
  circle A5 centre (-55, -84.5) radius 3.5
  circle A6 centre (-55, -34.5) radius 2
  circle A7 centre (-55, -34.5) radius 3.5 projected
  circle A8 centre (-55, -34.5) radius 3.5
  circle A9 centre (-55, 0) radius 3.5 projected
  circle A10 centre (0, 0) radius 3.5 projected
  circle A11 centre (0, -34.5) radius 3.5 projected
  circle A12 centre (-9, -84.5) radius 3.5 projected
  circle A13 centre (-9, -118.5) radius 3.5 projected
  circle A14 centre (-55, 0) radius 3.5
  circle A15 centre (-55, 0) radius 2
  circle A16 centre (0, 0) radius 3.5 projected
  circle A17 centre (0, 0) radius 2
  circle A18 centre (0, -34.5) radius 2
  circle A19 centre (-9, -84.5) radius 2
  circle A20 centre (-9, -118.5) radius 2
  circle A21 centre (79, -118.5) radius 3.5 projected
  circle A22 centre (79, -84.5) radius 3.5 projected
  circle A23 centre (70, -34.5) radius 3.5 projected
  circle A24 centre (70, 0) radius 3.5 projected
  circle A25 centre (125, 0) radius 3.5 projected
  circle A26 centre (125, -34.5) radius 3.5 projected
  circle A27 centre (125, -84.5) radius 3.5 projected
  circle A28 centre (125, -118.5) radius 3.5 projected
  circle A29 centre (79, -118.5) radius 2
  circle A30 centre (79, -84.5) radius 3.5 projected
  circle A31 centre (79, -84.5) radius 2
  circle A32 centre (70, -34.5) radius 3.5 projected
  circle A33 centre (70, -34.5) radius 2
  circle A34 centre (70, 0) radius 2
  circle A35 centre (125, -118.5) radius 3.5 projected
  circle A36 centre (125, -118.5) radius 2
  circle A37 centre (125, -84.5) radius 3.5 projected
  circle A38 centre (125, -84.5) radius 2
  circle A39 centre (125, -34.5) radius 3.5 projected
  circle A40 centre (125, -34.5) radius 2
  circle A41 centre (125, 0) radius 2
  circle A42 centre (-55, -59.5) radius 3.5 projected
  circle A43 centre (-37, -59.5) radius 3.5 projected
  circle A44 centre (-19, -59.5) radius 3.5 projected
  circle A45 centre (89, -59.5) radius 3.5 projected
  circle A46 centre (107, -59.5) radius 3.5 projected
  circle A47 centre (125, -59.5) radius 3.5 projected
  circle A48 centre (-55, -59.5) radius 2
  circle A49 centre (-37, -59.5) radius 2
  circle A50 centre (-19, -59.5) radius 2
  circle A51 centre (89, -59.5) radius 2
  circle A52 centre (107, -59.5) radius 2
  circle A53 centre (125, -59.5) radius 2
  point P0 (35, -71)
  dimension "d210" = 4
  dimension "d211" = 0
  dimension "d212" = 0
  dimension "d213" = 7
  dimension "d216" = 4
  dimension "d217" = 1.5
  dimension "d218" = 4
  dimension "d219" = 0
  dimension "d220" = 0
  dimension "d221" = 1.5
  dimension "d225" = 7
  dimension "d226" = 4
  dimension "d227" = 4
  dimension "d228" = 4
  dimension "d229" = 4
  dimension "d230" = 4
  dimension "d231" = 4
  dimension "d232" = 4
  dimension "d233" = 4
  dimension "d234" = 4
  dimension "d235" = 4
  dimension "d236" = 4
  dimension "d237" = 4
  dimension "d238" = 4
  dimension "d250" = 4
  dimension "d251" = 4
  dimension "d252" = 4
  dimension "d253" = 4
  dimension "d254" = 4
  dimension "d255" = 4
extrude "Extrusion13" cut sketch "Skizze12" against normal blind 8 contours A0 | A4 | A6 | A15 | A17 | A18 | A19 | A20 | A29 | A31 | A33 | A34 | A36 | A38 | A40 | A41 | A48 | A49 | A50 | A51 | A52 | A53
properties part number "Grundplatte_hinten"
